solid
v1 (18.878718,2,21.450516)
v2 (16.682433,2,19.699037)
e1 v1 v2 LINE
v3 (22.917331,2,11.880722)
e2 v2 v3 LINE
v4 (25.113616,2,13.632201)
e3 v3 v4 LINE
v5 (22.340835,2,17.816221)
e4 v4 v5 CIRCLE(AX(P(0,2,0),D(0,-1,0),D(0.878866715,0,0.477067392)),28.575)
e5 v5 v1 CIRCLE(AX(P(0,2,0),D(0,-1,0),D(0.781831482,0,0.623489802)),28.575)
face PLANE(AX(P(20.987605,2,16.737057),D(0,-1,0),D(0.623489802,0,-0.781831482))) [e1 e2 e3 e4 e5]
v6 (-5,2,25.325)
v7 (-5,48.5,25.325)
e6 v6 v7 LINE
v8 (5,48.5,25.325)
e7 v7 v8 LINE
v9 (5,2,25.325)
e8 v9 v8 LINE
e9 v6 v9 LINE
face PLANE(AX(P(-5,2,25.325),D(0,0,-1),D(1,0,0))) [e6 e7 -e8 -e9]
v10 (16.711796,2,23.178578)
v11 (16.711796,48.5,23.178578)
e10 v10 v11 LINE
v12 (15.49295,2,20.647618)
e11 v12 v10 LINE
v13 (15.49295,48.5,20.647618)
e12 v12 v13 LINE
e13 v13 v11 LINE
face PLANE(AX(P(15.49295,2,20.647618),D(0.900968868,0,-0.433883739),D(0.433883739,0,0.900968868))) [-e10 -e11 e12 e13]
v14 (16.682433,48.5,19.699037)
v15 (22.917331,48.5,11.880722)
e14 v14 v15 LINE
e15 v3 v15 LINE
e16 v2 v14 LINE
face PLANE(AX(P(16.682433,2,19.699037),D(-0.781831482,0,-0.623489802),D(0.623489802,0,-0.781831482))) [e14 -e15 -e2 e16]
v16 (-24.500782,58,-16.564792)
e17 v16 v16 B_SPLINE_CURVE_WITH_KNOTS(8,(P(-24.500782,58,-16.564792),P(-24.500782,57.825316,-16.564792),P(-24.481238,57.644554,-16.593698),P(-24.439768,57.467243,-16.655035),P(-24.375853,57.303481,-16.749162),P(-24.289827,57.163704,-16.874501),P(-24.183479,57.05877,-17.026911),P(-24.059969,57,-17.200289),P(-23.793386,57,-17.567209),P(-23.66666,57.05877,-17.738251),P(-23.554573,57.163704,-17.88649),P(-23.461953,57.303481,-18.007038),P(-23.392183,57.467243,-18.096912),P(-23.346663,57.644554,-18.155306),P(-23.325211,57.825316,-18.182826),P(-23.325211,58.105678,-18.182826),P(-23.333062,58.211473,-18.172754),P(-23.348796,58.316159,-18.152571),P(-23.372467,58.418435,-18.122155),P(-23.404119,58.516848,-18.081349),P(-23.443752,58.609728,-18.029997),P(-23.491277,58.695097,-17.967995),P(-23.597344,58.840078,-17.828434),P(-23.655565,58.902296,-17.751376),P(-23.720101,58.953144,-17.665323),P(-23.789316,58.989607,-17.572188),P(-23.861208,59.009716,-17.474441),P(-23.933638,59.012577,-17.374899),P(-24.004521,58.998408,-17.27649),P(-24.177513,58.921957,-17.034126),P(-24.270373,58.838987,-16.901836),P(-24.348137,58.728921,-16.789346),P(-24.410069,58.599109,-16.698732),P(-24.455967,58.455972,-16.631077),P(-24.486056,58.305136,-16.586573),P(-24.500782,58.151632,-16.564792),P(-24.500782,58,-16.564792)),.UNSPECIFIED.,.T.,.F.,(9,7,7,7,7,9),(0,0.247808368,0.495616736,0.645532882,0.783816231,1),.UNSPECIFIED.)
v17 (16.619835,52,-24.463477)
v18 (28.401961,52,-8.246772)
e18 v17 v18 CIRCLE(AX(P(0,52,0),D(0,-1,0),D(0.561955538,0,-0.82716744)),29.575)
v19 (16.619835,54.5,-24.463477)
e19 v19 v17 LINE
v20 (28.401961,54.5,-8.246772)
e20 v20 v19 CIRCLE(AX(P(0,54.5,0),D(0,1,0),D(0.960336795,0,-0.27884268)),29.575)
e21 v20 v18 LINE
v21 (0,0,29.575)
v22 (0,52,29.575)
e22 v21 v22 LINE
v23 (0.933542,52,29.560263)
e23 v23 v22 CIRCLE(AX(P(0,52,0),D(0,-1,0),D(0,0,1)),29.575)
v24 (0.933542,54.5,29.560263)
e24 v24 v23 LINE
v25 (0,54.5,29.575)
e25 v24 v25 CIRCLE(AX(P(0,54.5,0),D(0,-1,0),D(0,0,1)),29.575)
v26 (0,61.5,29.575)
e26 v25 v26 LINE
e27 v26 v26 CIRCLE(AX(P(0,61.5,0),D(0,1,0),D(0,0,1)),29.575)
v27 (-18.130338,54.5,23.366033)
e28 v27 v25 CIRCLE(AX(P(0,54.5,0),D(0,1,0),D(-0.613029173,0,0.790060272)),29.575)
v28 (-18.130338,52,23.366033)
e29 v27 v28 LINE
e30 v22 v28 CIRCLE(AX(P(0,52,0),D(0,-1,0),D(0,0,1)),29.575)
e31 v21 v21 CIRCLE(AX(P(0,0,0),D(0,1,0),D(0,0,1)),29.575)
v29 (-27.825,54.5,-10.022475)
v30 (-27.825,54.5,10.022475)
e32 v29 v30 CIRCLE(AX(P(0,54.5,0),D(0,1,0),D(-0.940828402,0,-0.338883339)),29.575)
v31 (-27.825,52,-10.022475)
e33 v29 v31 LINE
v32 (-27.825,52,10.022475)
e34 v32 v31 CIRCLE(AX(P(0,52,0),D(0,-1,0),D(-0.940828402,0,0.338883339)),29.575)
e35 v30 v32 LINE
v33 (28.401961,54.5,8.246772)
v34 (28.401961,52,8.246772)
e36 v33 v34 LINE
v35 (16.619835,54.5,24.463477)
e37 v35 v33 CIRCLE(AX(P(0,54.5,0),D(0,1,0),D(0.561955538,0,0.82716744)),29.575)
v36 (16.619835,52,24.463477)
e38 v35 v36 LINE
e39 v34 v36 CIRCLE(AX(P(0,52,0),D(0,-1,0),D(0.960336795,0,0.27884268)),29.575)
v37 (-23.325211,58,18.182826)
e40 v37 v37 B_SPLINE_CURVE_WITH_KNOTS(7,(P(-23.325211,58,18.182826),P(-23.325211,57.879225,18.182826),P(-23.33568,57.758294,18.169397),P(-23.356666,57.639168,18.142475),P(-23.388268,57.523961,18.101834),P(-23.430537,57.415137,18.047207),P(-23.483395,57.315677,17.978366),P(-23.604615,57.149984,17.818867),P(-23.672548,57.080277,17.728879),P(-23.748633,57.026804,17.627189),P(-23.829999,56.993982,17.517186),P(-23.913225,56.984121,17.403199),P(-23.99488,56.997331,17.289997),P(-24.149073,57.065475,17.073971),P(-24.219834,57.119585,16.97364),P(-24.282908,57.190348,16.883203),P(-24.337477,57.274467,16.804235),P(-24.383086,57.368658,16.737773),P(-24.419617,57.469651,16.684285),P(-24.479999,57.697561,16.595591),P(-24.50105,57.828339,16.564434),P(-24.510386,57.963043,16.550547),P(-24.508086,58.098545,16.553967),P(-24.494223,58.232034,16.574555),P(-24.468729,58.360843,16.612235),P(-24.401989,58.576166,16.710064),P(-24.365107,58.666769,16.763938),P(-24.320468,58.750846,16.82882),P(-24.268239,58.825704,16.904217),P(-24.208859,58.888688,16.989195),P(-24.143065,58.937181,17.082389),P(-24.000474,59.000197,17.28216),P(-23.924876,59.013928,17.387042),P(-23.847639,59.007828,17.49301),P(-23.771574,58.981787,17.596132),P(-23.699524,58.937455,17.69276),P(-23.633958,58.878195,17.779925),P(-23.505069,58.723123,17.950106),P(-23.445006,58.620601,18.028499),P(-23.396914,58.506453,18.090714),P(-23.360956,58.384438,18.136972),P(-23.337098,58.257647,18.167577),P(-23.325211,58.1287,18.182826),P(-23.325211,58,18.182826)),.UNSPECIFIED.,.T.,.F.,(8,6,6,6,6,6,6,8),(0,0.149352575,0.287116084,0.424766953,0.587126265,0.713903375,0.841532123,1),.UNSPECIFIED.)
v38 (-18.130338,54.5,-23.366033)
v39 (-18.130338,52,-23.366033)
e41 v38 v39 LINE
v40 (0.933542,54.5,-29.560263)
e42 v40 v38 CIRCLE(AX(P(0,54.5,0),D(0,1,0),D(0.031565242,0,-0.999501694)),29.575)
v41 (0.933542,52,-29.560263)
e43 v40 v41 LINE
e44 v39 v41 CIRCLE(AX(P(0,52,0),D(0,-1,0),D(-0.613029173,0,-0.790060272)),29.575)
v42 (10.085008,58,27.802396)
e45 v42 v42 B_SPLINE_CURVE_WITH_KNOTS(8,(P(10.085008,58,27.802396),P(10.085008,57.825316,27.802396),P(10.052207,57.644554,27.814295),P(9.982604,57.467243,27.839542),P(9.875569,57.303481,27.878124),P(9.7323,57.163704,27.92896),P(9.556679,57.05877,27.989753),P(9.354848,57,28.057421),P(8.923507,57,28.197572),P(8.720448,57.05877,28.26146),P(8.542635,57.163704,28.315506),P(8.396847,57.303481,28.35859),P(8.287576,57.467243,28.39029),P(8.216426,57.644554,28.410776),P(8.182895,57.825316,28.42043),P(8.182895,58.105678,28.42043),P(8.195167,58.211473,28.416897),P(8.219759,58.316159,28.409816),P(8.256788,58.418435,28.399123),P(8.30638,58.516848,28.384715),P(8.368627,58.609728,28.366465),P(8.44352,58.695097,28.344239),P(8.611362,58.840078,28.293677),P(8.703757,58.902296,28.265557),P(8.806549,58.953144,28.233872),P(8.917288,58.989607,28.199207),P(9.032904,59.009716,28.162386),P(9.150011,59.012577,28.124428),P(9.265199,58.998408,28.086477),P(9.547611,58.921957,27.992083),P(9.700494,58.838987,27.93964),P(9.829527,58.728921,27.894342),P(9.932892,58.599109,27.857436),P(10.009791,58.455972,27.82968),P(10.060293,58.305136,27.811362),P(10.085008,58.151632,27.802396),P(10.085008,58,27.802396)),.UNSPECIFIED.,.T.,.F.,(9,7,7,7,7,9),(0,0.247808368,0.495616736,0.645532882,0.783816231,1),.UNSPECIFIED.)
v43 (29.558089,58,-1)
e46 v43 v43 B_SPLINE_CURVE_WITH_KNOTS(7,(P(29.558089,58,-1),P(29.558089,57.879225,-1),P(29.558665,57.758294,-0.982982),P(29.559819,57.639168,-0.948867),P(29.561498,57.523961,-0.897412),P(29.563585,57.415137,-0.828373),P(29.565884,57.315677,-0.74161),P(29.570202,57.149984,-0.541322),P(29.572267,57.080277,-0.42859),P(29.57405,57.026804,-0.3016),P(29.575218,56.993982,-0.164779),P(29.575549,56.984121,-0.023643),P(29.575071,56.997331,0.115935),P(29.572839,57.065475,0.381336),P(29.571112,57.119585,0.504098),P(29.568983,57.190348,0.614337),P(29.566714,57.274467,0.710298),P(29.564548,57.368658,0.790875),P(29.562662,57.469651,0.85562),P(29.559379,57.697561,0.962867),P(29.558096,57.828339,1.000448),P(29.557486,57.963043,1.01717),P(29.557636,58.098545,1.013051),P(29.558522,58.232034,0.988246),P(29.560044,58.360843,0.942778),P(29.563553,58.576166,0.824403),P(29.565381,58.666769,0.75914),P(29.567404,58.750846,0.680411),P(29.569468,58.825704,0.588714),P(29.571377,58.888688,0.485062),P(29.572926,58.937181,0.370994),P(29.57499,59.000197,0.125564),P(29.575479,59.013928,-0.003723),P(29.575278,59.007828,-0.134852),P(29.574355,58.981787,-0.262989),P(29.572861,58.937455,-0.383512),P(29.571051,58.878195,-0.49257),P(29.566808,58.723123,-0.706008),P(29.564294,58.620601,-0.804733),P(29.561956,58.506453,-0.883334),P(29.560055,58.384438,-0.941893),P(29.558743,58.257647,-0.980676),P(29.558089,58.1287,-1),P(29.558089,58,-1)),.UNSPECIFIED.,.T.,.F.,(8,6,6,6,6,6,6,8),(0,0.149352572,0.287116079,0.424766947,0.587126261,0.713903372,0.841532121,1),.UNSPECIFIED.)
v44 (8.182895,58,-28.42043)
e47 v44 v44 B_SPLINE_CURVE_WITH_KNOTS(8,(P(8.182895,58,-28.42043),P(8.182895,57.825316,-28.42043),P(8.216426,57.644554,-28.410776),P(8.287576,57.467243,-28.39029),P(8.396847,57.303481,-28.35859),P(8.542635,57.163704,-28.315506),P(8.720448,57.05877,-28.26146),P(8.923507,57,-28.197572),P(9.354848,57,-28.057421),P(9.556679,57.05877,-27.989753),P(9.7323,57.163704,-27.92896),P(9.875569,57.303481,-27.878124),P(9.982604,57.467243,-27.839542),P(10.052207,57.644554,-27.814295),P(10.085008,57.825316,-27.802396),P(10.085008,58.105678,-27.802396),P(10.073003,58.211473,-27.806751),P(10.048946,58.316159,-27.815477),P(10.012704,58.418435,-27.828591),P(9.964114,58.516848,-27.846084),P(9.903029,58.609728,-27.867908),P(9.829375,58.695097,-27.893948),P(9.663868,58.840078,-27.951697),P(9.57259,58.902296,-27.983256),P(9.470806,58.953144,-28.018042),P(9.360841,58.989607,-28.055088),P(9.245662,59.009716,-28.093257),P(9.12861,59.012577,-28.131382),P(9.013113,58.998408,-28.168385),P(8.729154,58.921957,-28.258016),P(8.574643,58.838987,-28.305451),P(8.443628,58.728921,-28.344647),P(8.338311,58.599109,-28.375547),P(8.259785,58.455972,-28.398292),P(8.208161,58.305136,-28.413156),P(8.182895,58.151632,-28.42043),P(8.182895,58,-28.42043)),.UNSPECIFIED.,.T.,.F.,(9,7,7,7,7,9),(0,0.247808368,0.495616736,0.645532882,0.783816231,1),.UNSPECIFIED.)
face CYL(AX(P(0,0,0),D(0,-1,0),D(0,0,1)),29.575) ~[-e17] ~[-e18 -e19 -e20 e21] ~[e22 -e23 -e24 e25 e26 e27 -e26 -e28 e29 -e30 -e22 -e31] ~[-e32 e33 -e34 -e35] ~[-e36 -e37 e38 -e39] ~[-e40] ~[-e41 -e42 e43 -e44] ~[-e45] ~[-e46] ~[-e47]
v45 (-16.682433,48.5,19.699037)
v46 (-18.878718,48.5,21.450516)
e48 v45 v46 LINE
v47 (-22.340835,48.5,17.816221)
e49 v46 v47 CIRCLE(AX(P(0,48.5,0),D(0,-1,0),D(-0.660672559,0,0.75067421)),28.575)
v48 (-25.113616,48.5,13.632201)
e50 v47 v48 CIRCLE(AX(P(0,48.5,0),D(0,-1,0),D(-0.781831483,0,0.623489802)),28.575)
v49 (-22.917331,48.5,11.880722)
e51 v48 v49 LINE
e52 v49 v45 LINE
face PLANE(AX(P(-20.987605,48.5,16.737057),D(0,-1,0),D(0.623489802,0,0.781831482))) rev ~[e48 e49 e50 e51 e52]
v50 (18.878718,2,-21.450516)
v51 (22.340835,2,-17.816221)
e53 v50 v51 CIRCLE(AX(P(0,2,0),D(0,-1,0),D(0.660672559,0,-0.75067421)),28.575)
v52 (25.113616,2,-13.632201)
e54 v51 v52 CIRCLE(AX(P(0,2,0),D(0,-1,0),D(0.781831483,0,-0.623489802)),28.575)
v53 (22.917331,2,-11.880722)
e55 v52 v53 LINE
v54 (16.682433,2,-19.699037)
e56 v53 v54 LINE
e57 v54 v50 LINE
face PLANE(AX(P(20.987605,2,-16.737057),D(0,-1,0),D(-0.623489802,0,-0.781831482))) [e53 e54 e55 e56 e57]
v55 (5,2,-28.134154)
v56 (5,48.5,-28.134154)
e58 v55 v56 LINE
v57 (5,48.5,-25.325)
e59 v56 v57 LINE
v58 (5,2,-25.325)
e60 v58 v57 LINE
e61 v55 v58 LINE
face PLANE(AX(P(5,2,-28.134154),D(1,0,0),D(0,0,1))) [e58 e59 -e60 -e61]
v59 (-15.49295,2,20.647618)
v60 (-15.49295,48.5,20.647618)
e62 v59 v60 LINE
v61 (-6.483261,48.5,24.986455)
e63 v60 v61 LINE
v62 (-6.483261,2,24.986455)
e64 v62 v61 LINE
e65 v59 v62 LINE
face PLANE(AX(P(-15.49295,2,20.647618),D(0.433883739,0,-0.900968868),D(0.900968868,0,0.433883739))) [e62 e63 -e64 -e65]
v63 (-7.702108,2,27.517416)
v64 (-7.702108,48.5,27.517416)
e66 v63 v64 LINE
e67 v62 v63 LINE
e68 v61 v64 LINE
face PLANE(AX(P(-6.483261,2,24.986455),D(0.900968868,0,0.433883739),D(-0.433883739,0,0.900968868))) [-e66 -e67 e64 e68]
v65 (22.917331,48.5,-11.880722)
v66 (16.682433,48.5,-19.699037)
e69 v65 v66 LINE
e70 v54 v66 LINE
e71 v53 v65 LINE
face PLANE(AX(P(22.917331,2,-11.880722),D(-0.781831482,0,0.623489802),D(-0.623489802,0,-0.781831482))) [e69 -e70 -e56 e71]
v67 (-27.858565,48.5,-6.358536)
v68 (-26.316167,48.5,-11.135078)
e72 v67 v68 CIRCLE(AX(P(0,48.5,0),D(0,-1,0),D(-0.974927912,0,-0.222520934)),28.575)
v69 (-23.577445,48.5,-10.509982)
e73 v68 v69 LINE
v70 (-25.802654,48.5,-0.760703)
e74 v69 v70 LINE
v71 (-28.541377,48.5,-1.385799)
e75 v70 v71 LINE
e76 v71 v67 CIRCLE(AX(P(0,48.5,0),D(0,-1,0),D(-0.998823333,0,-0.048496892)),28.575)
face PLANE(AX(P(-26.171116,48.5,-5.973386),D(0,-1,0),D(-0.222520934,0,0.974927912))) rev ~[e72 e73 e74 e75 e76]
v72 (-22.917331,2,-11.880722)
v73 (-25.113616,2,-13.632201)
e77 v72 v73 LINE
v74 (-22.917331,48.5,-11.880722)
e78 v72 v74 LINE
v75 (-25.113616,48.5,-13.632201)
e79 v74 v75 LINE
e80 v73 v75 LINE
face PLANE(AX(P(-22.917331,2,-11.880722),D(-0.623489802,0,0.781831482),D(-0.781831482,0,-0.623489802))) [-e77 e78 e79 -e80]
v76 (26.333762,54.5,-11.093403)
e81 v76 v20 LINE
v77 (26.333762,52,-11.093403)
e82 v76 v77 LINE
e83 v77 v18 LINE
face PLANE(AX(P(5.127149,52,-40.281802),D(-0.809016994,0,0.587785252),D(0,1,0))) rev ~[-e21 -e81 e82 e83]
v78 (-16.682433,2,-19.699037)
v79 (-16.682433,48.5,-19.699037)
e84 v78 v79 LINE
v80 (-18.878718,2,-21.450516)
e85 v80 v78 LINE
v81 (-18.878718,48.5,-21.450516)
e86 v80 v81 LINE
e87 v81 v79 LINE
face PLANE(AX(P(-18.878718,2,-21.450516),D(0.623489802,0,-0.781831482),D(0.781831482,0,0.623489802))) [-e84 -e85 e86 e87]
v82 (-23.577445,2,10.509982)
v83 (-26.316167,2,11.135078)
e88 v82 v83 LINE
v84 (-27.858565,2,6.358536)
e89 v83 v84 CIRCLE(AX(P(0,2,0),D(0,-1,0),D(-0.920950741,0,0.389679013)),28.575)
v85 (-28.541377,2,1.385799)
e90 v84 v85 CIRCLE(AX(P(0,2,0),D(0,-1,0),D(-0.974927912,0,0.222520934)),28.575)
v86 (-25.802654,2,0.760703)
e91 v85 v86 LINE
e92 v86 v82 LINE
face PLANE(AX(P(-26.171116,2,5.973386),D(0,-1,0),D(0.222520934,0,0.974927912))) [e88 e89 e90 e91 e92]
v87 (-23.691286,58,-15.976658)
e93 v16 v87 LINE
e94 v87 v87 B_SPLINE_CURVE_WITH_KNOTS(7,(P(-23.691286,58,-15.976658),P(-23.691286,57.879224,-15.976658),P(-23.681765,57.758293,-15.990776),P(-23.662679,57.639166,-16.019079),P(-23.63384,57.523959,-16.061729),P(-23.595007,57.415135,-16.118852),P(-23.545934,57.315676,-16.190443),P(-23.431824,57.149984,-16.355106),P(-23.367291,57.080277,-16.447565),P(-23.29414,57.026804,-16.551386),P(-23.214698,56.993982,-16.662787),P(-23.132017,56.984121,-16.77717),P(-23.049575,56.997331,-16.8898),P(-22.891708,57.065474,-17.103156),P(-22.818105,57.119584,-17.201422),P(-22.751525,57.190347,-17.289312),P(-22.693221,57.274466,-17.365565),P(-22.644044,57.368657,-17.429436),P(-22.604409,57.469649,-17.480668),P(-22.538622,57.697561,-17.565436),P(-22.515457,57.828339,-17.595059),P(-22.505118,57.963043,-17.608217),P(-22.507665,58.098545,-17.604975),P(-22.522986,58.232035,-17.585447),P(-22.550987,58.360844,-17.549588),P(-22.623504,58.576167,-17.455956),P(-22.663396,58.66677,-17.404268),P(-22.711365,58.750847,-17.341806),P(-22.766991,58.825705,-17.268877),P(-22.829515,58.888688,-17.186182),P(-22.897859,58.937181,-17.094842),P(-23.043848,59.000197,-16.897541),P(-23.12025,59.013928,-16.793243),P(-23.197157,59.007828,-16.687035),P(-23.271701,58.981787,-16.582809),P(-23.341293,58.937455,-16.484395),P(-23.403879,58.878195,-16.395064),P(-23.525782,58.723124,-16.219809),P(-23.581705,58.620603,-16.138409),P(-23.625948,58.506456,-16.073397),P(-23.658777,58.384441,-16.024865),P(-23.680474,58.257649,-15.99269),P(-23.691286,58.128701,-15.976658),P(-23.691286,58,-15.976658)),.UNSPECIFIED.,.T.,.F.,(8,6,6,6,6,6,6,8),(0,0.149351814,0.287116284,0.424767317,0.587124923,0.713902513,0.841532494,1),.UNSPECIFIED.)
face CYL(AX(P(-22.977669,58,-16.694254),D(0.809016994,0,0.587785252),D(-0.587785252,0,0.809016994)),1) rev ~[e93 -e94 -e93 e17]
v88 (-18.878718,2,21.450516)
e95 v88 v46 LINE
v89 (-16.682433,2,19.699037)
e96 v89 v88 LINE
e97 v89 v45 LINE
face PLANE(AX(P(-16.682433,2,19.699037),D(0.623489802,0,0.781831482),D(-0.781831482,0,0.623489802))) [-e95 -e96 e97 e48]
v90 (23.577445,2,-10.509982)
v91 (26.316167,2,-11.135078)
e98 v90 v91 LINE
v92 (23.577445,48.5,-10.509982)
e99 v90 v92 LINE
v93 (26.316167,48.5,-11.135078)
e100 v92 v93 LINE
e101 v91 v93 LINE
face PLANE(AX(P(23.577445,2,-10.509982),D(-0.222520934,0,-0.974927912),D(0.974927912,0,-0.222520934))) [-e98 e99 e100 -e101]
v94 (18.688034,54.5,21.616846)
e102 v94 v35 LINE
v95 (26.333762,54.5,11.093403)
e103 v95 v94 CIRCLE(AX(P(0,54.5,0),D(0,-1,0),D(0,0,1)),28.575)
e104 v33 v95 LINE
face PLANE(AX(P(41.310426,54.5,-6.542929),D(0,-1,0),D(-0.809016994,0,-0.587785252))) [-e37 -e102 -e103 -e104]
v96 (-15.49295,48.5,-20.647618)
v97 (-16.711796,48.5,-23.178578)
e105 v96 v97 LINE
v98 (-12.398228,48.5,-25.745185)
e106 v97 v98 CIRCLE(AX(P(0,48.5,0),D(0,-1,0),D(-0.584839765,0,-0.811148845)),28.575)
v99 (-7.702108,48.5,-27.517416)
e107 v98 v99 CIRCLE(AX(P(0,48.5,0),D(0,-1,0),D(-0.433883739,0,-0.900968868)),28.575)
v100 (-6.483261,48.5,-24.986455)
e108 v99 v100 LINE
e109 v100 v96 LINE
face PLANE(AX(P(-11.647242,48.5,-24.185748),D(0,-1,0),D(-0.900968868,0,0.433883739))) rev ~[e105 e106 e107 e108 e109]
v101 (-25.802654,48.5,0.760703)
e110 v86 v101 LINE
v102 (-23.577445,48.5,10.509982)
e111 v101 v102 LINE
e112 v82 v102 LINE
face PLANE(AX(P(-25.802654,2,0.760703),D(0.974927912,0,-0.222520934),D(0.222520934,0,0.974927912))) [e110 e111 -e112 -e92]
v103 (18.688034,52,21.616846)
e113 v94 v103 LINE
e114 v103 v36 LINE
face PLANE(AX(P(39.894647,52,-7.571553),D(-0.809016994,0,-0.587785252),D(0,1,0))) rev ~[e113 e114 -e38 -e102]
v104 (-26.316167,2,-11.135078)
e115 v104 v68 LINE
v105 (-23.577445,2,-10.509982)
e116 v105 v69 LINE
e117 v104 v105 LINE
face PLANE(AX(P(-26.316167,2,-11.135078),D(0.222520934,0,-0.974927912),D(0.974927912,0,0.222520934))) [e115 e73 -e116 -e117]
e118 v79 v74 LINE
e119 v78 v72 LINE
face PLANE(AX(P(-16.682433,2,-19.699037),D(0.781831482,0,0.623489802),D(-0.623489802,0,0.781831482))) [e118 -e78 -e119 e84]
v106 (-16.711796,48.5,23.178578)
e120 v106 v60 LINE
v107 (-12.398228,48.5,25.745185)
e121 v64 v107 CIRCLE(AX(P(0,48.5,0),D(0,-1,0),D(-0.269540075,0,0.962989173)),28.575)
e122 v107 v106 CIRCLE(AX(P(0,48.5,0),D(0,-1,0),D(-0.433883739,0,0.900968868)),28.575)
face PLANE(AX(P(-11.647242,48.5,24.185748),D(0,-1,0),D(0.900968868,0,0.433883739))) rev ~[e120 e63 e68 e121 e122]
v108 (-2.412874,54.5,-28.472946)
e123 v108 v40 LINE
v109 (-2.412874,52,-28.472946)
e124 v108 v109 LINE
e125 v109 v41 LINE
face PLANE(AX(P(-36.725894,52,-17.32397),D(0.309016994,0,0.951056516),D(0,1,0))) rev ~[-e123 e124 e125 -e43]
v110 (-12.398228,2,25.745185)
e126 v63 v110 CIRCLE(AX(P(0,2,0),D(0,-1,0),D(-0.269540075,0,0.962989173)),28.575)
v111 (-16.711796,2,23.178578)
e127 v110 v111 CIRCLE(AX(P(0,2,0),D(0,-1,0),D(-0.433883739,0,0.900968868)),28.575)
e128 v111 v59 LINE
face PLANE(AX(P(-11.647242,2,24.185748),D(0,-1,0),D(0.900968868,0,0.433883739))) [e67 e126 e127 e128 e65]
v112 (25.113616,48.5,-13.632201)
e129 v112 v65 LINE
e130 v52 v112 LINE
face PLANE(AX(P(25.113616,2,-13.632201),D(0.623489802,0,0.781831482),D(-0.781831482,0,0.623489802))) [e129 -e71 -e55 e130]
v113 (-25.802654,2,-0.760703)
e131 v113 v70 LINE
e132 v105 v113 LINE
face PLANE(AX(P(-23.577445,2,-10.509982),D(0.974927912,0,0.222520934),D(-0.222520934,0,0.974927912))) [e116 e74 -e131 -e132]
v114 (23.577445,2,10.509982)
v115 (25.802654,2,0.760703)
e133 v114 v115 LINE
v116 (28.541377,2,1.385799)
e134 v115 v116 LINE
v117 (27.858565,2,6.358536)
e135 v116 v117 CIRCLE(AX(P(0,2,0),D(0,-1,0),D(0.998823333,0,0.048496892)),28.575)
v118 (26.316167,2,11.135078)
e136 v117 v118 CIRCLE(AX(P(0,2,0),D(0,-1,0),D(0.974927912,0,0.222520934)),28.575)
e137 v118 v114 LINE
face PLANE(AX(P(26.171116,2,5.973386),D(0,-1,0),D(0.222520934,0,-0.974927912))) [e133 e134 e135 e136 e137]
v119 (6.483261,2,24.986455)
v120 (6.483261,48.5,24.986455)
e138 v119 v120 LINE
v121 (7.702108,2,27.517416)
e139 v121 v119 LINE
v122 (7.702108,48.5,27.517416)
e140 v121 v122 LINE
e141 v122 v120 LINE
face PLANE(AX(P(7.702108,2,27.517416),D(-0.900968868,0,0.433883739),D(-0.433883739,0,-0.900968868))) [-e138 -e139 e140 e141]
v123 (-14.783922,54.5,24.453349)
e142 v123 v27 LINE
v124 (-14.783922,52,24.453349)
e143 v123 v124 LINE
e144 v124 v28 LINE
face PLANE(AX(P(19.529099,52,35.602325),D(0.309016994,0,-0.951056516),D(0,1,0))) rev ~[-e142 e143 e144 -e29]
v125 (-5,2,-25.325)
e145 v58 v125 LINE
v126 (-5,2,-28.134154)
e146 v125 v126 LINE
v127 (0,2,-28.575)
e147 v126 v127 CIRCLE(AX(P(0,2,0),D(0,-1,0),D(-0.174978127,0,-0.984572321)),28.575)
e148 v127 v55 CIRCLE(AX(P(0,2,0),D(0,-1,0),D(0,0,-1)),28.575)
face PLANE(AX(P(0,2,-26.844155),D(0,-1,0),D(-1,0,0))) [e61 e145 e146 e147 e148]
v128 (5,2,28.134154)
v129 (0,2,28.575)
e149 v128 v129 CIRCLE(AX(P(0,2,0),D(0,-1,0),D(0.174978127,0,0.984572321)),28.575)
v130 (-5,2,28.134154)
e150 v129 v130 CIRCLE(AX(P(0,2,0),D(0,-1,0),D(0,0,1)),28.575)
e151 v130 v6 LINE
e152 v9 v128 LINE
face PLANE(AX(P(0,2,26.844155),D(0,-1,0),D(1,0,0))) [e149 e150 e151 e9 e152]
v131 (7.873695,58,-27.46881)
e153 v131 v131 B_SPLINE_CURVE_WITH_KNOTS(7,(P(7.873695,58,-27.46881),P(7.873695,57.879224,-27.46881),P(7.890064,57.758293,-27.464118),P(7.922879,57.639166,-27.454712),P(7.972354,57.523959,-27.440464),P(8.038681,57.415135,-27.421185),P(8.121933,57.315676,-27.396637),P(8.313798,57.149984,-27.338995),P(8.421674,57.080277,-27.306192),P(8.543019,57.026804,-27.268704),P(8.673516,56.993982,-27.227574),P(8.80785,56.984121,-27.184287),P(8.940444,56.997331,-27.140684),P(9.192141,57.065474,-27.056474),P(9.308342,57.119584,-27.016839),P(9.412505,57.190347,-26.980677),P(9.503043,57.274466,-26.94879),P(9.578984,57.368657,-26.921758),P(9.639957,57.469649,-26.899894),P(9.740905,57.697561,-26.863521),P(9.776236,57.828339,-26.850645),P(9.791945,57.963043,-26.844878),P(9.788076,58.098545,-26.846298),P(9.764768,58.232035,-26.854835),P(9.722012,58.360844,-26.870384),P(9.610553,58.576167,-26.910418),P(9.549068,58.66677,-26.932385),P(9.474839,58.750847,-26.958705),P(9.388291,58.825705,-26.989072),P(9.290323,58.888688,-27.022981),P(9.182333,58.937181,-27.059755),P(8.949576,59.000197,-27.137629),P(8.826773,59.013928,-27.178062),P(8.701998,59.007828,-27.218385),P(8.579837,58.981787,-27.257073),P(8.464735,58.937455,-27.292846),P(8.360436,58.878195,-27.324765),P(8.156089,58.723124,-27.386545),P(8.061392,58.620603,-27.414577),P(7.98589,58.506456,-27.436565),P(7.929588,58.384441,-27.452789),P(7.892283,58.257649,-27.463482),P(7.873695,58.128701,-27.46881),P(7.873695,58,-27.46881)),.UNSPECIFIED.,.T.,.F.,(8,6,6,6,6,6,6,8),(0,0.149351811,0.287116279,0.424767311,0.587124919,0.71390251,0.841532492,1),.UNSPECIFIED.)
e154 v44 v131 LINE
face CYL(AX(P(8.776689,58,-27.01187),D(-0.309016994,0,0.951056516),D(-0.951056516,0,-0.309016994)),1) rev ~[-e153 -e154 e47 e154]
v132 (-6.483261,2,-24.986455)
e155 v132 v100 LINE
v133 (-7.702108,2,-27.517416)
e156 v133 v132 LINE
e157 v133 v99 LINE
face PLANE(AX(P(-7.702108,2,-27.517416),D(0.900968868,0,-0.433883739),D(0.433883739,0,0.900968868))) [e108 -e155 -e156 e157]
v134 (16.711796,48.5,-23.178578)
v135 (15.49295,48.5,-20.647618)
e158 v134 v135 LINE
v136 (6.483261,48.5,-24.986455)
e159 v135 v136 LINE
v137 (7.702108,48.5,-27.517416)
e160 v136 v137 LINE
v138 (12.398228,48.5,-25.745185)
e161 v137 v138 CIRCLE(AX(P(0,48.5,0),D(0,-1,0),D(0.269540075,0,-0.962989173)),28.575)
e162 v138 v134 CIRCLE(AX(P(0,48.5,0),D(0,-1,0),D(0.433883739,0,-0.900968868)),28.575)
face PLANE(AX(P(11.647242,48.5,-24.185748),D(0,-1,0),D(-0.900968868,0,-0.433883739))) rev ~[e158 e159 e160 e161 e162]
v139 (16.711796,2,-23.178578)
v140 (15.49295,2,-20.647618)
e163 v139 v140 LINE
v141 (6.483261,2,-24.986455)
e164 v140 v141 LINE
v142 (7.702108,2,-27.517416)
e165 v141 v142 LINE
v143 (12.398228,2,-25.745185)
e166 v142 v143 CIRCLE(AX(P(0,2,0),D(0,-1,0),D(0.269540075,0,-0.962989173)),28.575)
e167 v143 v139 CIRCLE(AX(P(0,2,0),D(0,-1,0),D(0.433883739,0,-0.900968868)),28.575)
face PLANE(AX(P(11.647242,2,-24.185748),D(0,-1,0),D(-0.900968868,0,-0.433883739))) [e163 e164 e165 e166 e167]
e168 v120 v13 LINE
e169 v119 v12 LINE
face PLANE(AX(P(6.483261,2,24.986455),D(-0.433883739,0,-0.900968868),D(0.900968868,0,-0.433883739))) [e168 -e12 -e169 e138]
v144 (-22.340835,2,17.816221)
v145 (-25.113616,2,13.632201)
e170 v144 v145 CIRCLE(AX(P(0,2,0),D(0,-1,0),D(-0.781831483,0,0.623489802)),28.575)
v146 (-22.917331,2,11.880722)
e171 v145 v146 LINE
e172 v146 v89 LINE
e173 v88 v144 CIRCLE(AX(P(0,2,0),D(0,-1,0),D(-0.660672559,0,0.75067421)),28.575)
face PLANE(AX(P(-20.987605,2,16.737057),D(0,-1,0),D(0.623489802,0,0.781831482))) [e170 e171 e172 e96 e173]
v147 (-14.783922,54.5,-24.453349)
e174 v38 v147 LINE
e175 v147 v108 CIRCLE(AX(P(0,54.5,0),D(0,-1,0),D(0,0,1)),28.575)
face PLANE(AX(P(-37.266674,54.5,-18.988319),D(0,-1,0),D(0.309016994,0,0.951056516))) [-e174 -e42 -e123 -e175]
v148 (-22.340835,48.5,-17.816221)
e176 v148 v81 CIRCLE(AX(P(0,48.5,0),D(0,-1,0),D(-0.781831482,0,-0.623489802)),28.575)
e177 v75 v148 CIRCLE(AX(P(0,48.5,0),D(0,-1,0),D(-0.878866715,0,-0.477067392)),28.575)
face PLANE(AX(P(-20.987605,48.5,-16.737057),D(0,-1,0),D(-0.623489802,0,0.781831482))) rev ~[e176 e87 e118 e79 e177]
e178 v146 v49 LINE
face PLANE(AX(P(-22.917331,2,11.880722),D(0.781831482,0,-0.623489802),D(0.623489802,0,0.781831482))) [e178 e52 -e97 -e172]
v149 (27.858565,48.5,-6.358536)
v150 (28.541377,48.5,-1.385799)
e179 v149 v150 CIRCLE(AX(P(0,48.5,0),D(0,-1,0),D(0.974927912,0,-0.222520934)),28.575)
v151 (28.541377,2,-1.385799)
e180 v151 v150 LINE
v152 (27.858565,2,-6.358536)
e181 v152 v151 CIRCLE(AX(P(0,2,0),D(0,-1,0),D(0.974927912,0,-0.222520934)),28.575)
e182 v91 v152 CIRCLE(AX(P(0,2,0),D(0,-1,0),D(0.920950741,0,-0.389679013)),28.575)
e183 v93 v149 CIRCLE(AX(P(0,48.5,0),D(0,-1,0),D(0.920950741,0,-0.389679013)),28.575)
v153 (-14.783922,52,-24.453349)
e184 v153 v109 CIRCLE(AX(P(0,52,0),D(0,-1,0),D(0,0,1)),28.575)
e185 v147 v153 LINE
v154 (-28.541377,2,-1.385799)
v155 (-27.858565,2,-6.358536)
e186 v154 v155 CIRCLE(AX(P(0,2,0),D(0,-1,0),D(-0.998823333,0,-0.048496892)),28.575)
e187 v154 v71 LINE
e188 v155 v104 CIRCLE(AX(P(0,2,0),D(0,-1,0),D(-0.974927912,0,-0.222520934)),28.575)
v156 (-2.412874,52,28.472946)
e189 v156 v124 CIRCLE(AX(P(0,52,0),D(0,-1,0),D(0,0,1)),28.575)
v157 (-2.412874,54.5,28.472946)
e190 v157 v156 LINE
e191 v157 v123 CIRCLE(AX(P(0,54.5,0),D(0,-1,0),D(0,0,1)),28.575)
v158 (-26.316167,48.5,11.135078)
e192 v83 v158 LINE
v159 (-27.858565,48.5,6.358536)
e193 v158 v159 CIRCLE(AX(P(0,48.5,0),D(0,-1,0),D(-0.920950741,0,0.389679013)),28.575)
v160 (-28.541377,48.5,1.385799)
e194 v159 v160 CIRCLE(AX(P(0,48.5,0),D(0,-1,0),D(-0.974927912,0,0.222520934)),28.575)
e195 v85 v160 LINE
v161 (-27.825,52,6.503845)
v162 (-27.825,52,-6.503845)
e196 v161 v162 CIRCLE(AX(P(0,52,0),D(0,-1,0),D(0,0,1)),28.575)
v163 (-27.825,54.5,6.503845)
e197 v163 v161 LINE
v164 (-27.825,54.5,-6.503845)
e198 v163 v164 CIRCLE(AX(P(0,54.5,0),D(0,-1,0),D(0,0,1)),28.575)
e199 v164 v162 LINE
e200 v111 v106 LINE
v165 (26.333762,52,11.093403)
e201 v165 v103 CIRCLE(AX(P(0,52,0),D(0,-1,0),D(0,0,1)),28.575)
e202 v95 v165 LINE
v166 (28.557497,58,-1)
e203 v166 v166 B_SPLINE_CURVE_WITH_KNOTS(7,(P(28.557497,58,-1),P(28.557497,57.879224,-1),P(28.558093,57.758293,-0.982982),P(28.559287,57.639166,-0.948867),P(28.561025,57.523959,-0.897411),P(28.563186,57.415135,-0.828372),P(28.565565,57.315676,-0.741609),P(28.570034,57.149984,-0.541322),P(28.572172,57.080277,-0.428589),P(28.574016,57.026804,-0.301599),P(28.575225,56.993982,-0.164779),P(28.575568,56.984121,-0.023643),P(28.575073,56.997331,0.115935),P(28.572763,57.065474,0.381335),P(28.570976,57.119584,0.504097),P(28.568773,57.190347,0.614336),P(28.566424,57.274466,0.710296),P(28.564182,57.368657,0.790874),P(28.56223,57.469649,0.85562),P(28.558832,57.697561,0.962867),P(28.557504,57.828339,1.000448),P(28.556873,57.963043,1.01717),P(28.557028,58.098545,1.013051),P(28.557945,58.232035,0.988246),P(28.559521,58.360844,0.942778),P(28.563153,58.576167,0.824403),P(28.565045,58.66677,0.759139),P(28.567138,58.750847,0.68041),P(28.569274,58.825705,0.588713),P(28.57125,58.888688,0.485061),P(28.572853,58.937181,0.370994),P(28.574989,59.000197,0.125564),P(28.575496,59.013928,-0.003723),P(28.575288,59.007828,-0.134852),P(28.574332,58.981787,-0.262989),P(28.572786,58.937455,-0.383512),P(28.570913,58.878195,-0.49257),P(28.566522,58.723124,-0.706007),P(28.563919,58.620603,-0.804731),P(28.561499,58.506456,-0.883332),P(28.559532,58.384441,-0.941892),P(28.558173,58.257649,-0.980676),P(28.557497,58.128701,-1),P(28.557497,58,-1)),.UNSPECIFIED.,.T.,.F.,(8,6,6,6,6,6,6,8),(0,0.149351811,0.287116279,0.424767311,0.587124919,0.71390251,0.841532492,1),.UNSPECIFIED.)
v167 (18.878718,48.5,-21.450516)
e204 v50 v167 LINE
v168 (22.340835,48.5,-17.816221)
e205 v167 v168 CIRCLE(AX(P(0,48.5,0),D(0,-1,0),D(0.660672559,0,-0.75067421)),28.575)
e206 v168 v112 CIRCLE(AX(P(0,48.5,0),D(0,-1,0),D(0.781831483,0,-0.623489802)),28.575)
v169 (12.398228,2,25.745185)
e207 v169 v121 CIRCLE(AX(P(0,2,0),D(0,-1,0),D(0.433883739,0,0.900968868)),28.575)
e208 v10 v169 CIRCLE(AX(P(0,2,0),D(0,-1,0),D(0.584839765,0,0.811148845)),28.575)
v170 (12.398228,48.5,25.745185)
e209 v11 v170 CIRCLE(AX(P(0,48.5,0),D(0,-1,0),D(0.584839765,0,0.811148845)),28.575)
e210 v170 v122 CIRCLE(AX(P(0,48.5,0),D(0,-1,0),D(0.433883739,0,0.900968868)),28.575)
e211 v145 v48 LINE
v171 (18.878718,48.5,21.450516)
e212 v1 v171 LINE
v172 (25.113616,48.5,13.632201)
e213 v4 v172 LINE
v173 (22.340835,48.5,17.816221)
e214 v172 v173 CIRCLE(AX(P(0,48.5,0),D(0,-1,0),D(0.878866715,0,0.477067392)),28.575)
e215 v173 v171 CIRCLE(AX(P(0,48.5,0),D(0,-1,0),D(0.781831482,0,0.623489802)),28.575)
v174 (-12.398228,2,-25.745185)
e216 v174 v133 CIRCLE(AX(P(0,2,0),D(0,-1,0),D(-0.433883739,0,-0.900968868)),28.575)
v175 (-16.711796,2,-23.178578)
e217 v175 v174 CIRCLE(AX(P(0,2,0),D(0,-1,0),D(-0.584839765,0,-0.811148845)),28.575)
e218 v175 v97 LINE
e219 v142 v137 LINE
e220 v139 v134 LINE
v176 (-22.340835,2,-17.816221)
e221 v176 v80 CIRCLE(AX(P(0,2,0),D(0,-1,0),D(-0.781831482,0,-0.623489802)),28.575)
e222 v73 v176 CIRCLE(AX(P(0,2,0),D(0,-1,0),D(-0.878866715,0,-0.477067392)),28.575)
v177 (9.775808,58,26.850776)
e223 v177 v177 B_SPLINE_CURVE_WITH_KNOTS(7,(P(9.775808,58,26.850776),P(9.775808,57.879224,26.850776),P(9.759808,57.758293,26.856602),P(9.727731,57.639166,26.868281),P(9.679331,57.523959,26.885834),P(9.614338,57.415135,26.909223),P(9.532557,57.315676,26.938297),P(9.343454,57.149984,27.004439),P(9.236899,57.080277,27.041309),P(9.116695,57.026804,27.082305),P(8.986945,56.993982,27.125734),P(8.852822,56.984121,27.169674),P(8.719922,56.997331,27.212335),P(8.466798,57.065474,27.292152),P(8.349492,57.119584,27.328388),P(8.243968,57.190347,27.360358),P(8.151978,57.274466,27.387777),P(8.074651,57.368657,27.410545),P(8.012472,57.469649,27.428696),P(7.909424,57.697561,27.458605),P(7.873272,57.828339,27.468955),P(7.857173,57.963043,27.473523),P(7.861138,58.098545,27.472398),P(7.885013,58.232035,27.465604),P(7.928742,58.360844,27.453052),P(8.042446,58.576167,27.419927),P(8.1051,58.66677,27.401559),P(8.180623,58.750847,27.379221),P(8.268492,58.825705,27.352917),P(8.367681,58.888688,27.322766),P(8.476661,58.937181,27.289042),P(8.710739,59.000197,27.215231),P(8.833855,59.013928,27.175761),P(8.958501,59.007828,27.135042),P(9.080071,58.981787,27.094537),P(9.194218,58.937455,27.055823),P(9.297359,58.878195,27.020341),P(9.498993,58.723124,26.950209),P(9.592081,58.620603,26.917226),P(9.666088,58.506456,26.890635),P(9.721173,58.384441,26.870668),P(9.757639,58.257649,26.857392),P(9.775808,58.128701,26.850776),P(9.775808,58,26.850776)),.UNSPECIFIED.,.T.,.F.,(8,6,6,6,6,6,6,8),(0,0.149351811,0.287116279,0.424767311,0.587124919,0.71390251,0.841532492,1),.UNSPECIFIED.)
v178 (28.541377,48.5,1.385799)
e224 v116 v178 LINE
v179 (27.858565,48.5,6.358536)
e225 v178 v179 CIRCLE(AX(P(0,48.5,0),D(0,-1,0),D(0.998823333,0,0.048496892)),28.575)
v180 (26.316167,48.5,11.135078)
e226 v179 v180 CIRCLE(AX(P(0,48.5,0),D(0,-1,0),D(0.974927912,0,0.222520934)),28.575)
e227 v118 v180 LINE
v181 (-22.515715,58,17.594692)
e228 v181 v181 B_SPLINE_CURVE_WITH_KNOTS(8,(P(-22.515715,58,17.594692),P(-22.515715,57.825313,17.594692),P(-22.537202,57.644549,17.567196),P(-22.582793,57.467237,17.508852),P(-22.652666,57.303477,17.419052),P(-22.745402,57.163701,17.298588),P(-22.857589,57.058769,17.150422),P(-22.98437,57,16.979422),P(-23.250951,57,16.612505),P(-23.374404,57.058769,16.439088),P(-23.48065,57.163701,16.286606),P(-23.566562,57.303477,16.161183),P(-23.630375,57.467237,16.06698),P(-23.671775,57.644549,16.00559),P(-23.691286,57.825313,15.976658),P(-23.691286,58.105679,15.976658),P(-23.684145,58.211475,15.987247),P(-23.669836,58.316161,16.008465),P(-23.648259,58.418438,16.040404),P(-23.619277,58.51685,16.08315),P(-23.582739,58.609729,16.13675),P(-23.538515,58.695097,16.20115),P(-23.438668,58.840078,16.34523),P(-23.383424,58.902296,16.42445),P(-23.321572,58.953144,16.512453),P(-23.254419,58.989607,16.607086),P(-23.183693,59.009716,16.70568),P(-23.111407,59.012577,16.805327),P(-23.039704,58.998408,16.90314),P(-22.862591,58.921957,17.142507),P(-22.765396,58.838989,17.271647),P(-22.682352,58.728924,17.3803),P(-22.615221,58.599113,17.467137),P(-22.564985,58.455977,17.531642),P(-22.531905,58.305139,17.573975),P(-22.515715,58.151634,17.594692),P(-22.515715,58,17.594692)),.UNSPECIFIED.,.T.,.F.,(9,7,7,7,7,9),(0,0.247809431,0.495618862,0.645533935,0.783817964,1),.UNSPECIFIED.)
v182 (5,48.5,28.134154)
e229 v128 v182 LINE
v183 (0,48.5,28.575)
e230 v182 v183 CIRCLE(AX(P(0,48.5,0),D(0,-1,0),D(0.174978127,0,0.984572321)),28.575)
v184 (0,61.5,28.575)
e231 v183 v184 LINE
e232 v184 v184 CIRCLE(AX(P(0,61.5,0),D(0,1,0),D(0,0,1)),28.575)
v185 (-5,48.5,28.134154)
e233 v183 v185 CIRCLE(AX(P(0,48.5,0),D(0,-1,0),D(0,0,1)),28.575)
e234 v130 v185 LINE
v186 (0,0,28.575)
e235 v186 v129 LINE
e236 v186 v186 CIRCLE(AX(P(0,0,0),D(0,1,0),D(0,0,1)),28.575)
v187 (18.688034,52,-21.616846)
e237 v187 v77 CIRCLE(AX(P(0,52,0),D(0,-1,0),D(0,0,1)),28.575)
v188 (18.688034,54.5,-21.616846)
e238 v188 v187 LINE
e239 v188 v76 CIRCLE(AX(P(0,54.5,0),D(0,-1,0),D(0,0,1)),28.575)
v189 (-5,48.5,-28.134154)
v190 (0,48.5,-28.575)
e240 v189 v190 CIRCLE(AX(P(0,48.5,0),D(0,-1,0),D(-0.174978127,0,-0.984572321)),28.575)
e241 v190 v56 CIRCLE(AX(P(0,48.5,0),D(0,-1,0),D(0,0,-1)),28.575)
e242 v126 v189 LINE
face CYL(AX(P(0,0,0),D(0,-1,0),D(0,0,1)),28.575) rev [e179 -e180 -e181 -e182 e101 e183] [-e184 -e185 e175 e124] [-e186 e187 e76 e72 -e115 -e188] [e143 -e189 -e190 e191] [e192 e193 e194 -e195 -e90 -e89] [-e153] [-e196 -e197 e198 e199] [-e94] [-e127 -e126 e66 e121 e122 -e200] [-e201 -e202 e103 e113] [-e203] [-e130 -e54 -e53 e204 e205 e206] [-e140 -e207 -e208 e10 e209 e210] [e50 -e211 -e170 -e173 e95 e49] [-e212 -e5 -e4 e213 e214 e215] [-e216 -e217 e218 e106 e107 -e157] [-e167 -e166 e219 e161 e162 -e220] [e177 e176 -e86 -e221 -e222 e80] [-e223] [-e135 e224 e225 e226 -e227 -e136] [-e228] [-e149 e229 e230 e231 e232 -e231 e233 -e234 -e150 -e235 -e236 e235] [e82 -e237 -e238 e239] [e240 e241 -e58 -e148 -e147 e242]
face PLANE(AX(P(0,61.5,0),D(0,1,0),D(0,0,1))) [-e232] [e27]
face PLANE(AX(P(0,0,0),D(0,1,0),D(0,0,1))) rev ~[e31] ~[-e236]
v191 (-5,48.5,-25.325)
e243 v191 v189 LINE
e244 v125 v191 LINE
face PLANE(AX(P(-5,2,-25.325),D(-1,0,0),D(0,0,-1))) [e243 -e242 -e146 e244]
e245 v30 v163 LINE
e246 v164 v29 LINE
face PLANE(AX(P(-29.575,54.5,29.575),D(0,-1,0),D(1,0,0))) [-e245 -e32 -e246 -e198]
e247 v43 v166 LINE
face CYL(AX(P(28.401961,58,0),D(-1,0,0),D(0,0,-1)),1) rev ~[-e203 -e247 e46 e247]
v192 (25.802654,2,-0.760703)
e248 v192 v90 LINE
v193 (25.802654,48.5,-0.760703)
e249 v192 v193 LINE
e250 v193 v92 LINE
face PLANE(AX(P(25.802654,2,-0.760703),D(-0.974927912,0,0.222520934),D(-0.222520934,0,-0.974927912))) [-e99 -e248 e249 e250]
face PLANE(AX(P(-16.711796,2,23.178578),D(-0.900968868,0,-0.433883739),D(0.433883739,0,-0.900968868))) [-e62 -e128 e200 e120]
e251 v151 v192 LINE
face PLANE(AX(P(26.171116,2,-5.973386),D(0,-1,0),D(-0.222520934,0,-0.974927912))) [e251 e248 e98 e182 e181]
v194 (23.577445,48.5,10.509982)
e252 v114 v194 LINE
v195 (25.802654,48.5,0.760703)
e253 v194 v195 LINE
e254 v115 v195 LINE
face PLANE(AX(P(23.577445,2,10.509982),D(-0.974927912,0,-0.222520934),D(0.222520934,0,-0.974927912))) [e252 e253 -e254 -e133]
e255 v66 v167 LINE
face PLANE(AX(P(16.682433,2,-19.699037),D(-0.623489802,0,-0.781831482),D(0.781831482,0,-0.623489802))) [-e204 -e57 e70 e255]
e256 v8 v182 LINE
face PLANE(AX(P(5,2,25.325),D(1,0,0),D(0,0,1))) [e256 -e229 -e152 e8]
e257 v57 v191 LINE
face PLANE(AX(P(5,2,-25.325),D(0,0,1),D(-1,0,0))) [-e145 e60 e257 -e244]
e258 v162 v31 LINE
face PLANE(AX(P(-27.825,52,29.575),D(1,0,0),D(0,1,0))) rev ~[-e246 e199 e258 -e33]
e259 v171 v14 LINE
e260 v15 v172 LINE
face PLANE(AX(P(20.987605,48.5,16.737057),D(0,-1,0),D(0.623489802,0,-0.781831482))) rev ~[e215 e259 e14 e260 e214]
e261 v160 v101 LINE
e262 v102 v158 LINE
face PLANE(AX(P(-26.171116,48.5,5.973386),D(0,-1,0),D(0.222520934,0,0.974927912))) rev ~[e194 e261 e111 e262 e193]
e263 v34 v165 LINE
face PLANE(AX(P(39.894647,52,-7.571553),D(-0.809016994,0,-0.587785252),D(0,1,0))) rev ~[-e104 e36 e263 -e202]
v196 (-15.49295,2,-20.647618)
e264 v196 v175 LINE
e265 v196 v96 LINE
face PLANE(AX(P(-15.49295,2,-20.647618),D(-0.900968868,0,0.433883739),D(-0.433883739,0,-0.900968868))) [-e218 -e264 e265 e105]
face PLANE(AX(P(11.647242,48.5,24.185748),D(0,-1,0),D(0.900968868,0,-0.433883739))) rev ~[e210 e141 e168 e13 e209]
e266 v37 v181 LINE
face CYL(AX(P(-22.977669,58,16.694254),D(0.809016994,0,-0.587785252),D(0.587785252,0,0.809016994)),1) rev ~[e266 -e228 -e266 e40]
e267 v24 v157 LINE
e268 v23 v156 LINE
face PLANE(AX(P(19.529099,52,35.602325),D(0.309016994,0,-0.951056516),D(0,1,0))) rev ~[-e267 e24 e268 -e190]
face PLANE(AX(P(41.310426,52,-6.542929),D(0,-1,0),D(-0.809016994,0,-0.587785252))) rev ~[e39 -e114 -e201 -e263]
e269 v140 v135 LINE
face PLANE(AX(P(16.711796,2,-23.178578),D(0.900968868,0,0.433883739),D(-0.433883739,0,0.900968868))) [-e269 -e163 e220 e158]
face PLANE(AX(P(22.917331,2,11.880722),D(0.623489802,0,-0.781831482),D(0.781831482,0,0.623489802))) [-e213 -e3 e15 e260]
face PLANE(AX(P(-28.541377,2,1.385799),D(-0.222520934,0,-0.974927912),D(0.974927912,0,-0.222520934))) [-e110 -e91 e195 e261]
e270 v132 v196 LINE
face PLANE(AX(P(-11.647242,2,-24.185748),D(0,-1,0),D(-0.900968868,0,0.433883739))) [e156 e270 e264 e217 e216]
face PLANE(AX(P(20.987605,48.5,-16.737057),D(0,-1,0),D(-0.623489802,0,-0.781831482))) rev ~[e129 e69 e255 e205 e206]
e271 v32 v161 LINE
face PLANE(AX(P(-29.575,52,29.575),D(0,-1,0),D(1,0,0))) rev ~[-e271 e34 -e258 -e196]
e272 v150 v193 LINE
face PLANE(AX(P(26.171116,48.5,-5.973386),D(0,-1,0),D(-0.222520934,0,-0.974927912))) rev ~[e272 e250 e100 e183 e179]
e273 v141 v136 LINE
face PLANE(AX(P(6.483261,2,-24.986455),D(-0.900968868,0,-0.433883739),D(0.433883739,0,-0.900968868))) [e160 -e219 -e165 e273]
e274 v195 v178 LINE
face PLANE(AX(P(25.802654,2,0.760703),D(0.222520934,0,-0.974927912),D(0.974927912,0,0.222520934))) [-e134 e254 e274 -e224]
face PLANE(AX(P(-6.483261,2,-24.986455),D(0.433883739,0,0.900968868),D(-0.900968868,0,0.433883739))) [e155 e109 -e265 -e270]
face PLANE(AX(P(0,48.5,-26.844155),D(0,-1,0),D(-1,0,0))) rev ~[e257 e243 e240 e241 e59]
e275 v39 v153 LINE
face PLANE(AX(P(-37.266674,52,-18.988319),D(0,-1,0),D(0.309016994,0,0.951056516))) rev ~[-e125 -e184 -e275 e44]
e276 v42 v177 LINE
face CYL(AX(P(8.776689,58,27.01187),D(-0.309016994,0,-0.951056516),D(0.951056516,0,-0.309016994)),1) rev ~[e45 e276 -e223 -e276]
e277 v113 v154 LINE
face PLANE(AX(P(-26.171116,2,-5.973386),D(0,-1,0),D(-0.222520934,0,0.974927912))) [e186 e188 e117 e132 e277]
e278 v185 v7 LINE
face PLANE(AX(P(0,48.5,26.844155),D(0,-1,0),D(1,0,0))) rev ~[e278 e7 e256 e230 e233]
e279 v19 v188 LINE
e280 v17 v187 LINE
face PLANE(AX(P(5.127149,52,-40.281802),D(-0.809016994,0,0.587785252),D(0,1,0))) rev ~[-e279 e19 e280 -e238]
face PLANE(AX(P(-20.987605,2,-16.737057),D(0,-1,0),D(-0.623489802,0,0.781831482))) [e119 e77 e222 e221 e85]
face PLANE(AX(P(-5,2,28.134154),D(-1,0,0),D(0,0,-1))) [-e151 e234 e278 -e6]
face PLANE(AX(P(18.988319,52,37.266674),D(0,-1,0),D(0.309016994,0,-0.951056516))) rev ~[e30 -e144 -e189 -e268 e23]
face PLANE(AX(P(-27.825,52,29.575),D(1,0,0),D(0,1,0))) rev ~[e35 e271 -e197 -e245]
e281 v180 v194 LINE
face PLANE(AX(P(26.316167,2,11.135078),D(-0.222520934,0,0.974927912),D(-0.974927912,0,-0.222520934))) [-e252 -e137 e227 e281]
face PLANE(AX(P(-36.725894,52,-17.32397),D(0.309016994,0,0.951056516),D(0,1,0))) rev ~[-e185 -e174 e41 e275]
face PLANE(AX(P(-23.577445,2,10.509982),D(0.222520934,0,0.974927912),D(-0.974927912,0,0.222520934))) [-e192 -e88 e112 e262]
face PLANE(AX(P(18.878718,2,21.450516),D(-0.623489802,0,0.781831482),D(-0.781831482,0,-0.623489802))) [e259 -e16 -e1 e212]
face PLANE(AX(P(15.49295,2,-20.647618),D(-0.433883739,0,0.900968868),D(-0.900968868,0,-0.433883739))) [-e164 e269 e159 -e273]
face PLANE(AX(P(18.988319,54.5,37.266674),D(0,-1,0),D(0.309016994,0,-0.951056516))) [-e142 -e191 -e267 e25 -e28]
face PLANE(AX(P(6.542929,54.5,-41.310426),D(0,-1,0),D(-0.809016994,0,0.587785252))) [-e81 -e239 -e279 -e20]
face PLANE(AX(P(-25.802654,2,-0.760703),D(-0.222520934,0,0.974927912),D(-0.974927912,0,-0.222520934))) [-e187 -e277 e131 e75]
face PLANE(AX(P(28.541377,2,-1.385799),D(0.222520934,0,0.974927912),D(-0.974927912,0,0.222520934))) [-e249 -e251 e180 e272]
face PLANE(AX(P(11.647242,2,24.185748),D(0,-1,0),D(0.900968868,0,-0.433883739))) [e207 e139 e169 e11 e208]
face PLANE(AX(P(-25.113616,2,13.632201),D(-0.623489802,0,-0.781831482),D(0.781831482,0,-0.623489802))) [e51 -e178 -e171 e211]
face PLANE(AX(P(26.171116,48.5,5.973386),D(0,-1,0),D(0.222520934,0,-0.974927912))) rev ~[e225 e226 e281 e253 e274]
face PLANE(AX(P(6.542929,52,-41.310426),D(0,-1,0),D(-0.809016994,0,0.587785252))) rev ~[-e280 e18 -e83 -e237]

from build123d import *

# Parameters (mm, degrees)
SKETCH1_R           = 29.575
SKETCH1_R_2         = 28.575
BOSS_EXTRUDE1_DEPTH = 61.5
BOSS_EXTRUDE2_START = 2.5
BOSS_EXTRUDE2_DEPTH = 46.5
CIRPATTERN1_COUNT   = 14
SKETCH4_W           = 1.75
SKETCH4_H           = 2.5
CUT_EXTRUDE1_DEPTH  = 91.308654762
CIRPATTERN2_COUNT   = 5
SKETCH5_R           = 1
CUT_EXTRUDE2_DEPTH  = 5
CIRPATTERN3_COUNT   = 5


with BuildPart() as part:
    # Sketch1 → Boss-Extrude1 (new body)
    with BuildSketch(Plane(origin=(0, 0, 0), x_dir=(1, 0, 0), z_dir=(0, 1, 0))):
        with Locations(Location((0, 0, 0), (0, 0, 270))):
            Circle(SKETCH1_R)
        with Locations(Location((0, 0, 0), (0, 0, 270))):
            Circle(SKETCH1_R_2, mode=Mode.SUBTRACT)
    extrude(amount=BOSS_EXTRUDE1_DEPTH)

    # Sketch2 → Boss-Extrude2 (add)
    with BuildSketch(Plane(origin=(0, 4.5, 0), x_dir=(-1, 0, 0), z_dir=(0, -1, 0)).offset(BOSS_EXTRUDE2_START)):
        with BuildLine():
            Line((-5, 28.134154066), (-5, 25.325))
            Line((-5, 25.325), (5, 25.325))
            Line((5, 25.325), (5, 28.134154066))
            ThreePointArc((5, 28.134154066), (2.509698445, 28.464575154), (0, 28.575))
            ThreePointArc((0, 28.575), (-2.509698445, 28.464575154), (-5, 28.134154066))
        make_face()
    boss_extrude2 = extrude(amount=-BOSS_EXTRUDE2_DEPTH)

    # CirPattern1: Boss-Extrude2 ×14 about axis
    cirpattern1_axis = Axis((0, 0, 0), (0, 1, 0))
    for i in range(1, CIRPATTERN1_COUNT):
        add(boss_extrude2.rotate(cirpattern1_axis, i * 360 / CIRPATTERN1_COUNT))

    # Sketch4 → Cut-Extrude1 (cut, through all)
    with BuildSketch(Plane.XY.offset(29.575)):
        with Locations((-28.7, 53.25)):
            Rectangle(SKETCH4_W, SKETCH4_H)
    cut_extrude1 = extrude(amount=-CUT_EXTRUDE1_DEPTH, mode=Mode.SUBTRACT)

    # CirPattern2: Cut-Extrude1 ×5 about axis
    cirpattern2_axis = Axis((0, 0, 0), (0, 1, 0))
    for i in range(1, CIRPATTERN2_COUNT):
        add(cut_extrude1.rotate(cirpattern2_axis, i * 360 / CIRPATTERN2_COUNT), mode=Mode.SUBTRACT)

    # Sketch5 → Cut-Extrude2 (cut, symmetric)
    with BuildSketch(Plane(origin=(8.776688534, 0, 27.011869813), x_dir=(-0.9510565162951524, 0, 0.30901699437495134), z_dir=(-0.30901699437495134, 0, -0.9510565162951524))):
        with Locations(Location((0, 58, 0), (0, 0, 180))):
            Circle(SKETCH5_R)
    cut_extrude2 = extrude(amount=CUT_EXTRUDE2_DEPTH, both=True, mode=Mode.SUBTRACT)

    # CirPattern3: Cut-Extrude2 ×5 about axis
    cirpattern3_axis = Axis((0, 0, 0), (0, 1, 0))
    for i in range(1, CIRPATTERN3_COUNT):
        add(cut_extrude2.rotate(cirpattern3_axis, i * 360 / CIRPATTERN3_COUNT), mode=Mode.SUBTRACT)


solid = part.part
